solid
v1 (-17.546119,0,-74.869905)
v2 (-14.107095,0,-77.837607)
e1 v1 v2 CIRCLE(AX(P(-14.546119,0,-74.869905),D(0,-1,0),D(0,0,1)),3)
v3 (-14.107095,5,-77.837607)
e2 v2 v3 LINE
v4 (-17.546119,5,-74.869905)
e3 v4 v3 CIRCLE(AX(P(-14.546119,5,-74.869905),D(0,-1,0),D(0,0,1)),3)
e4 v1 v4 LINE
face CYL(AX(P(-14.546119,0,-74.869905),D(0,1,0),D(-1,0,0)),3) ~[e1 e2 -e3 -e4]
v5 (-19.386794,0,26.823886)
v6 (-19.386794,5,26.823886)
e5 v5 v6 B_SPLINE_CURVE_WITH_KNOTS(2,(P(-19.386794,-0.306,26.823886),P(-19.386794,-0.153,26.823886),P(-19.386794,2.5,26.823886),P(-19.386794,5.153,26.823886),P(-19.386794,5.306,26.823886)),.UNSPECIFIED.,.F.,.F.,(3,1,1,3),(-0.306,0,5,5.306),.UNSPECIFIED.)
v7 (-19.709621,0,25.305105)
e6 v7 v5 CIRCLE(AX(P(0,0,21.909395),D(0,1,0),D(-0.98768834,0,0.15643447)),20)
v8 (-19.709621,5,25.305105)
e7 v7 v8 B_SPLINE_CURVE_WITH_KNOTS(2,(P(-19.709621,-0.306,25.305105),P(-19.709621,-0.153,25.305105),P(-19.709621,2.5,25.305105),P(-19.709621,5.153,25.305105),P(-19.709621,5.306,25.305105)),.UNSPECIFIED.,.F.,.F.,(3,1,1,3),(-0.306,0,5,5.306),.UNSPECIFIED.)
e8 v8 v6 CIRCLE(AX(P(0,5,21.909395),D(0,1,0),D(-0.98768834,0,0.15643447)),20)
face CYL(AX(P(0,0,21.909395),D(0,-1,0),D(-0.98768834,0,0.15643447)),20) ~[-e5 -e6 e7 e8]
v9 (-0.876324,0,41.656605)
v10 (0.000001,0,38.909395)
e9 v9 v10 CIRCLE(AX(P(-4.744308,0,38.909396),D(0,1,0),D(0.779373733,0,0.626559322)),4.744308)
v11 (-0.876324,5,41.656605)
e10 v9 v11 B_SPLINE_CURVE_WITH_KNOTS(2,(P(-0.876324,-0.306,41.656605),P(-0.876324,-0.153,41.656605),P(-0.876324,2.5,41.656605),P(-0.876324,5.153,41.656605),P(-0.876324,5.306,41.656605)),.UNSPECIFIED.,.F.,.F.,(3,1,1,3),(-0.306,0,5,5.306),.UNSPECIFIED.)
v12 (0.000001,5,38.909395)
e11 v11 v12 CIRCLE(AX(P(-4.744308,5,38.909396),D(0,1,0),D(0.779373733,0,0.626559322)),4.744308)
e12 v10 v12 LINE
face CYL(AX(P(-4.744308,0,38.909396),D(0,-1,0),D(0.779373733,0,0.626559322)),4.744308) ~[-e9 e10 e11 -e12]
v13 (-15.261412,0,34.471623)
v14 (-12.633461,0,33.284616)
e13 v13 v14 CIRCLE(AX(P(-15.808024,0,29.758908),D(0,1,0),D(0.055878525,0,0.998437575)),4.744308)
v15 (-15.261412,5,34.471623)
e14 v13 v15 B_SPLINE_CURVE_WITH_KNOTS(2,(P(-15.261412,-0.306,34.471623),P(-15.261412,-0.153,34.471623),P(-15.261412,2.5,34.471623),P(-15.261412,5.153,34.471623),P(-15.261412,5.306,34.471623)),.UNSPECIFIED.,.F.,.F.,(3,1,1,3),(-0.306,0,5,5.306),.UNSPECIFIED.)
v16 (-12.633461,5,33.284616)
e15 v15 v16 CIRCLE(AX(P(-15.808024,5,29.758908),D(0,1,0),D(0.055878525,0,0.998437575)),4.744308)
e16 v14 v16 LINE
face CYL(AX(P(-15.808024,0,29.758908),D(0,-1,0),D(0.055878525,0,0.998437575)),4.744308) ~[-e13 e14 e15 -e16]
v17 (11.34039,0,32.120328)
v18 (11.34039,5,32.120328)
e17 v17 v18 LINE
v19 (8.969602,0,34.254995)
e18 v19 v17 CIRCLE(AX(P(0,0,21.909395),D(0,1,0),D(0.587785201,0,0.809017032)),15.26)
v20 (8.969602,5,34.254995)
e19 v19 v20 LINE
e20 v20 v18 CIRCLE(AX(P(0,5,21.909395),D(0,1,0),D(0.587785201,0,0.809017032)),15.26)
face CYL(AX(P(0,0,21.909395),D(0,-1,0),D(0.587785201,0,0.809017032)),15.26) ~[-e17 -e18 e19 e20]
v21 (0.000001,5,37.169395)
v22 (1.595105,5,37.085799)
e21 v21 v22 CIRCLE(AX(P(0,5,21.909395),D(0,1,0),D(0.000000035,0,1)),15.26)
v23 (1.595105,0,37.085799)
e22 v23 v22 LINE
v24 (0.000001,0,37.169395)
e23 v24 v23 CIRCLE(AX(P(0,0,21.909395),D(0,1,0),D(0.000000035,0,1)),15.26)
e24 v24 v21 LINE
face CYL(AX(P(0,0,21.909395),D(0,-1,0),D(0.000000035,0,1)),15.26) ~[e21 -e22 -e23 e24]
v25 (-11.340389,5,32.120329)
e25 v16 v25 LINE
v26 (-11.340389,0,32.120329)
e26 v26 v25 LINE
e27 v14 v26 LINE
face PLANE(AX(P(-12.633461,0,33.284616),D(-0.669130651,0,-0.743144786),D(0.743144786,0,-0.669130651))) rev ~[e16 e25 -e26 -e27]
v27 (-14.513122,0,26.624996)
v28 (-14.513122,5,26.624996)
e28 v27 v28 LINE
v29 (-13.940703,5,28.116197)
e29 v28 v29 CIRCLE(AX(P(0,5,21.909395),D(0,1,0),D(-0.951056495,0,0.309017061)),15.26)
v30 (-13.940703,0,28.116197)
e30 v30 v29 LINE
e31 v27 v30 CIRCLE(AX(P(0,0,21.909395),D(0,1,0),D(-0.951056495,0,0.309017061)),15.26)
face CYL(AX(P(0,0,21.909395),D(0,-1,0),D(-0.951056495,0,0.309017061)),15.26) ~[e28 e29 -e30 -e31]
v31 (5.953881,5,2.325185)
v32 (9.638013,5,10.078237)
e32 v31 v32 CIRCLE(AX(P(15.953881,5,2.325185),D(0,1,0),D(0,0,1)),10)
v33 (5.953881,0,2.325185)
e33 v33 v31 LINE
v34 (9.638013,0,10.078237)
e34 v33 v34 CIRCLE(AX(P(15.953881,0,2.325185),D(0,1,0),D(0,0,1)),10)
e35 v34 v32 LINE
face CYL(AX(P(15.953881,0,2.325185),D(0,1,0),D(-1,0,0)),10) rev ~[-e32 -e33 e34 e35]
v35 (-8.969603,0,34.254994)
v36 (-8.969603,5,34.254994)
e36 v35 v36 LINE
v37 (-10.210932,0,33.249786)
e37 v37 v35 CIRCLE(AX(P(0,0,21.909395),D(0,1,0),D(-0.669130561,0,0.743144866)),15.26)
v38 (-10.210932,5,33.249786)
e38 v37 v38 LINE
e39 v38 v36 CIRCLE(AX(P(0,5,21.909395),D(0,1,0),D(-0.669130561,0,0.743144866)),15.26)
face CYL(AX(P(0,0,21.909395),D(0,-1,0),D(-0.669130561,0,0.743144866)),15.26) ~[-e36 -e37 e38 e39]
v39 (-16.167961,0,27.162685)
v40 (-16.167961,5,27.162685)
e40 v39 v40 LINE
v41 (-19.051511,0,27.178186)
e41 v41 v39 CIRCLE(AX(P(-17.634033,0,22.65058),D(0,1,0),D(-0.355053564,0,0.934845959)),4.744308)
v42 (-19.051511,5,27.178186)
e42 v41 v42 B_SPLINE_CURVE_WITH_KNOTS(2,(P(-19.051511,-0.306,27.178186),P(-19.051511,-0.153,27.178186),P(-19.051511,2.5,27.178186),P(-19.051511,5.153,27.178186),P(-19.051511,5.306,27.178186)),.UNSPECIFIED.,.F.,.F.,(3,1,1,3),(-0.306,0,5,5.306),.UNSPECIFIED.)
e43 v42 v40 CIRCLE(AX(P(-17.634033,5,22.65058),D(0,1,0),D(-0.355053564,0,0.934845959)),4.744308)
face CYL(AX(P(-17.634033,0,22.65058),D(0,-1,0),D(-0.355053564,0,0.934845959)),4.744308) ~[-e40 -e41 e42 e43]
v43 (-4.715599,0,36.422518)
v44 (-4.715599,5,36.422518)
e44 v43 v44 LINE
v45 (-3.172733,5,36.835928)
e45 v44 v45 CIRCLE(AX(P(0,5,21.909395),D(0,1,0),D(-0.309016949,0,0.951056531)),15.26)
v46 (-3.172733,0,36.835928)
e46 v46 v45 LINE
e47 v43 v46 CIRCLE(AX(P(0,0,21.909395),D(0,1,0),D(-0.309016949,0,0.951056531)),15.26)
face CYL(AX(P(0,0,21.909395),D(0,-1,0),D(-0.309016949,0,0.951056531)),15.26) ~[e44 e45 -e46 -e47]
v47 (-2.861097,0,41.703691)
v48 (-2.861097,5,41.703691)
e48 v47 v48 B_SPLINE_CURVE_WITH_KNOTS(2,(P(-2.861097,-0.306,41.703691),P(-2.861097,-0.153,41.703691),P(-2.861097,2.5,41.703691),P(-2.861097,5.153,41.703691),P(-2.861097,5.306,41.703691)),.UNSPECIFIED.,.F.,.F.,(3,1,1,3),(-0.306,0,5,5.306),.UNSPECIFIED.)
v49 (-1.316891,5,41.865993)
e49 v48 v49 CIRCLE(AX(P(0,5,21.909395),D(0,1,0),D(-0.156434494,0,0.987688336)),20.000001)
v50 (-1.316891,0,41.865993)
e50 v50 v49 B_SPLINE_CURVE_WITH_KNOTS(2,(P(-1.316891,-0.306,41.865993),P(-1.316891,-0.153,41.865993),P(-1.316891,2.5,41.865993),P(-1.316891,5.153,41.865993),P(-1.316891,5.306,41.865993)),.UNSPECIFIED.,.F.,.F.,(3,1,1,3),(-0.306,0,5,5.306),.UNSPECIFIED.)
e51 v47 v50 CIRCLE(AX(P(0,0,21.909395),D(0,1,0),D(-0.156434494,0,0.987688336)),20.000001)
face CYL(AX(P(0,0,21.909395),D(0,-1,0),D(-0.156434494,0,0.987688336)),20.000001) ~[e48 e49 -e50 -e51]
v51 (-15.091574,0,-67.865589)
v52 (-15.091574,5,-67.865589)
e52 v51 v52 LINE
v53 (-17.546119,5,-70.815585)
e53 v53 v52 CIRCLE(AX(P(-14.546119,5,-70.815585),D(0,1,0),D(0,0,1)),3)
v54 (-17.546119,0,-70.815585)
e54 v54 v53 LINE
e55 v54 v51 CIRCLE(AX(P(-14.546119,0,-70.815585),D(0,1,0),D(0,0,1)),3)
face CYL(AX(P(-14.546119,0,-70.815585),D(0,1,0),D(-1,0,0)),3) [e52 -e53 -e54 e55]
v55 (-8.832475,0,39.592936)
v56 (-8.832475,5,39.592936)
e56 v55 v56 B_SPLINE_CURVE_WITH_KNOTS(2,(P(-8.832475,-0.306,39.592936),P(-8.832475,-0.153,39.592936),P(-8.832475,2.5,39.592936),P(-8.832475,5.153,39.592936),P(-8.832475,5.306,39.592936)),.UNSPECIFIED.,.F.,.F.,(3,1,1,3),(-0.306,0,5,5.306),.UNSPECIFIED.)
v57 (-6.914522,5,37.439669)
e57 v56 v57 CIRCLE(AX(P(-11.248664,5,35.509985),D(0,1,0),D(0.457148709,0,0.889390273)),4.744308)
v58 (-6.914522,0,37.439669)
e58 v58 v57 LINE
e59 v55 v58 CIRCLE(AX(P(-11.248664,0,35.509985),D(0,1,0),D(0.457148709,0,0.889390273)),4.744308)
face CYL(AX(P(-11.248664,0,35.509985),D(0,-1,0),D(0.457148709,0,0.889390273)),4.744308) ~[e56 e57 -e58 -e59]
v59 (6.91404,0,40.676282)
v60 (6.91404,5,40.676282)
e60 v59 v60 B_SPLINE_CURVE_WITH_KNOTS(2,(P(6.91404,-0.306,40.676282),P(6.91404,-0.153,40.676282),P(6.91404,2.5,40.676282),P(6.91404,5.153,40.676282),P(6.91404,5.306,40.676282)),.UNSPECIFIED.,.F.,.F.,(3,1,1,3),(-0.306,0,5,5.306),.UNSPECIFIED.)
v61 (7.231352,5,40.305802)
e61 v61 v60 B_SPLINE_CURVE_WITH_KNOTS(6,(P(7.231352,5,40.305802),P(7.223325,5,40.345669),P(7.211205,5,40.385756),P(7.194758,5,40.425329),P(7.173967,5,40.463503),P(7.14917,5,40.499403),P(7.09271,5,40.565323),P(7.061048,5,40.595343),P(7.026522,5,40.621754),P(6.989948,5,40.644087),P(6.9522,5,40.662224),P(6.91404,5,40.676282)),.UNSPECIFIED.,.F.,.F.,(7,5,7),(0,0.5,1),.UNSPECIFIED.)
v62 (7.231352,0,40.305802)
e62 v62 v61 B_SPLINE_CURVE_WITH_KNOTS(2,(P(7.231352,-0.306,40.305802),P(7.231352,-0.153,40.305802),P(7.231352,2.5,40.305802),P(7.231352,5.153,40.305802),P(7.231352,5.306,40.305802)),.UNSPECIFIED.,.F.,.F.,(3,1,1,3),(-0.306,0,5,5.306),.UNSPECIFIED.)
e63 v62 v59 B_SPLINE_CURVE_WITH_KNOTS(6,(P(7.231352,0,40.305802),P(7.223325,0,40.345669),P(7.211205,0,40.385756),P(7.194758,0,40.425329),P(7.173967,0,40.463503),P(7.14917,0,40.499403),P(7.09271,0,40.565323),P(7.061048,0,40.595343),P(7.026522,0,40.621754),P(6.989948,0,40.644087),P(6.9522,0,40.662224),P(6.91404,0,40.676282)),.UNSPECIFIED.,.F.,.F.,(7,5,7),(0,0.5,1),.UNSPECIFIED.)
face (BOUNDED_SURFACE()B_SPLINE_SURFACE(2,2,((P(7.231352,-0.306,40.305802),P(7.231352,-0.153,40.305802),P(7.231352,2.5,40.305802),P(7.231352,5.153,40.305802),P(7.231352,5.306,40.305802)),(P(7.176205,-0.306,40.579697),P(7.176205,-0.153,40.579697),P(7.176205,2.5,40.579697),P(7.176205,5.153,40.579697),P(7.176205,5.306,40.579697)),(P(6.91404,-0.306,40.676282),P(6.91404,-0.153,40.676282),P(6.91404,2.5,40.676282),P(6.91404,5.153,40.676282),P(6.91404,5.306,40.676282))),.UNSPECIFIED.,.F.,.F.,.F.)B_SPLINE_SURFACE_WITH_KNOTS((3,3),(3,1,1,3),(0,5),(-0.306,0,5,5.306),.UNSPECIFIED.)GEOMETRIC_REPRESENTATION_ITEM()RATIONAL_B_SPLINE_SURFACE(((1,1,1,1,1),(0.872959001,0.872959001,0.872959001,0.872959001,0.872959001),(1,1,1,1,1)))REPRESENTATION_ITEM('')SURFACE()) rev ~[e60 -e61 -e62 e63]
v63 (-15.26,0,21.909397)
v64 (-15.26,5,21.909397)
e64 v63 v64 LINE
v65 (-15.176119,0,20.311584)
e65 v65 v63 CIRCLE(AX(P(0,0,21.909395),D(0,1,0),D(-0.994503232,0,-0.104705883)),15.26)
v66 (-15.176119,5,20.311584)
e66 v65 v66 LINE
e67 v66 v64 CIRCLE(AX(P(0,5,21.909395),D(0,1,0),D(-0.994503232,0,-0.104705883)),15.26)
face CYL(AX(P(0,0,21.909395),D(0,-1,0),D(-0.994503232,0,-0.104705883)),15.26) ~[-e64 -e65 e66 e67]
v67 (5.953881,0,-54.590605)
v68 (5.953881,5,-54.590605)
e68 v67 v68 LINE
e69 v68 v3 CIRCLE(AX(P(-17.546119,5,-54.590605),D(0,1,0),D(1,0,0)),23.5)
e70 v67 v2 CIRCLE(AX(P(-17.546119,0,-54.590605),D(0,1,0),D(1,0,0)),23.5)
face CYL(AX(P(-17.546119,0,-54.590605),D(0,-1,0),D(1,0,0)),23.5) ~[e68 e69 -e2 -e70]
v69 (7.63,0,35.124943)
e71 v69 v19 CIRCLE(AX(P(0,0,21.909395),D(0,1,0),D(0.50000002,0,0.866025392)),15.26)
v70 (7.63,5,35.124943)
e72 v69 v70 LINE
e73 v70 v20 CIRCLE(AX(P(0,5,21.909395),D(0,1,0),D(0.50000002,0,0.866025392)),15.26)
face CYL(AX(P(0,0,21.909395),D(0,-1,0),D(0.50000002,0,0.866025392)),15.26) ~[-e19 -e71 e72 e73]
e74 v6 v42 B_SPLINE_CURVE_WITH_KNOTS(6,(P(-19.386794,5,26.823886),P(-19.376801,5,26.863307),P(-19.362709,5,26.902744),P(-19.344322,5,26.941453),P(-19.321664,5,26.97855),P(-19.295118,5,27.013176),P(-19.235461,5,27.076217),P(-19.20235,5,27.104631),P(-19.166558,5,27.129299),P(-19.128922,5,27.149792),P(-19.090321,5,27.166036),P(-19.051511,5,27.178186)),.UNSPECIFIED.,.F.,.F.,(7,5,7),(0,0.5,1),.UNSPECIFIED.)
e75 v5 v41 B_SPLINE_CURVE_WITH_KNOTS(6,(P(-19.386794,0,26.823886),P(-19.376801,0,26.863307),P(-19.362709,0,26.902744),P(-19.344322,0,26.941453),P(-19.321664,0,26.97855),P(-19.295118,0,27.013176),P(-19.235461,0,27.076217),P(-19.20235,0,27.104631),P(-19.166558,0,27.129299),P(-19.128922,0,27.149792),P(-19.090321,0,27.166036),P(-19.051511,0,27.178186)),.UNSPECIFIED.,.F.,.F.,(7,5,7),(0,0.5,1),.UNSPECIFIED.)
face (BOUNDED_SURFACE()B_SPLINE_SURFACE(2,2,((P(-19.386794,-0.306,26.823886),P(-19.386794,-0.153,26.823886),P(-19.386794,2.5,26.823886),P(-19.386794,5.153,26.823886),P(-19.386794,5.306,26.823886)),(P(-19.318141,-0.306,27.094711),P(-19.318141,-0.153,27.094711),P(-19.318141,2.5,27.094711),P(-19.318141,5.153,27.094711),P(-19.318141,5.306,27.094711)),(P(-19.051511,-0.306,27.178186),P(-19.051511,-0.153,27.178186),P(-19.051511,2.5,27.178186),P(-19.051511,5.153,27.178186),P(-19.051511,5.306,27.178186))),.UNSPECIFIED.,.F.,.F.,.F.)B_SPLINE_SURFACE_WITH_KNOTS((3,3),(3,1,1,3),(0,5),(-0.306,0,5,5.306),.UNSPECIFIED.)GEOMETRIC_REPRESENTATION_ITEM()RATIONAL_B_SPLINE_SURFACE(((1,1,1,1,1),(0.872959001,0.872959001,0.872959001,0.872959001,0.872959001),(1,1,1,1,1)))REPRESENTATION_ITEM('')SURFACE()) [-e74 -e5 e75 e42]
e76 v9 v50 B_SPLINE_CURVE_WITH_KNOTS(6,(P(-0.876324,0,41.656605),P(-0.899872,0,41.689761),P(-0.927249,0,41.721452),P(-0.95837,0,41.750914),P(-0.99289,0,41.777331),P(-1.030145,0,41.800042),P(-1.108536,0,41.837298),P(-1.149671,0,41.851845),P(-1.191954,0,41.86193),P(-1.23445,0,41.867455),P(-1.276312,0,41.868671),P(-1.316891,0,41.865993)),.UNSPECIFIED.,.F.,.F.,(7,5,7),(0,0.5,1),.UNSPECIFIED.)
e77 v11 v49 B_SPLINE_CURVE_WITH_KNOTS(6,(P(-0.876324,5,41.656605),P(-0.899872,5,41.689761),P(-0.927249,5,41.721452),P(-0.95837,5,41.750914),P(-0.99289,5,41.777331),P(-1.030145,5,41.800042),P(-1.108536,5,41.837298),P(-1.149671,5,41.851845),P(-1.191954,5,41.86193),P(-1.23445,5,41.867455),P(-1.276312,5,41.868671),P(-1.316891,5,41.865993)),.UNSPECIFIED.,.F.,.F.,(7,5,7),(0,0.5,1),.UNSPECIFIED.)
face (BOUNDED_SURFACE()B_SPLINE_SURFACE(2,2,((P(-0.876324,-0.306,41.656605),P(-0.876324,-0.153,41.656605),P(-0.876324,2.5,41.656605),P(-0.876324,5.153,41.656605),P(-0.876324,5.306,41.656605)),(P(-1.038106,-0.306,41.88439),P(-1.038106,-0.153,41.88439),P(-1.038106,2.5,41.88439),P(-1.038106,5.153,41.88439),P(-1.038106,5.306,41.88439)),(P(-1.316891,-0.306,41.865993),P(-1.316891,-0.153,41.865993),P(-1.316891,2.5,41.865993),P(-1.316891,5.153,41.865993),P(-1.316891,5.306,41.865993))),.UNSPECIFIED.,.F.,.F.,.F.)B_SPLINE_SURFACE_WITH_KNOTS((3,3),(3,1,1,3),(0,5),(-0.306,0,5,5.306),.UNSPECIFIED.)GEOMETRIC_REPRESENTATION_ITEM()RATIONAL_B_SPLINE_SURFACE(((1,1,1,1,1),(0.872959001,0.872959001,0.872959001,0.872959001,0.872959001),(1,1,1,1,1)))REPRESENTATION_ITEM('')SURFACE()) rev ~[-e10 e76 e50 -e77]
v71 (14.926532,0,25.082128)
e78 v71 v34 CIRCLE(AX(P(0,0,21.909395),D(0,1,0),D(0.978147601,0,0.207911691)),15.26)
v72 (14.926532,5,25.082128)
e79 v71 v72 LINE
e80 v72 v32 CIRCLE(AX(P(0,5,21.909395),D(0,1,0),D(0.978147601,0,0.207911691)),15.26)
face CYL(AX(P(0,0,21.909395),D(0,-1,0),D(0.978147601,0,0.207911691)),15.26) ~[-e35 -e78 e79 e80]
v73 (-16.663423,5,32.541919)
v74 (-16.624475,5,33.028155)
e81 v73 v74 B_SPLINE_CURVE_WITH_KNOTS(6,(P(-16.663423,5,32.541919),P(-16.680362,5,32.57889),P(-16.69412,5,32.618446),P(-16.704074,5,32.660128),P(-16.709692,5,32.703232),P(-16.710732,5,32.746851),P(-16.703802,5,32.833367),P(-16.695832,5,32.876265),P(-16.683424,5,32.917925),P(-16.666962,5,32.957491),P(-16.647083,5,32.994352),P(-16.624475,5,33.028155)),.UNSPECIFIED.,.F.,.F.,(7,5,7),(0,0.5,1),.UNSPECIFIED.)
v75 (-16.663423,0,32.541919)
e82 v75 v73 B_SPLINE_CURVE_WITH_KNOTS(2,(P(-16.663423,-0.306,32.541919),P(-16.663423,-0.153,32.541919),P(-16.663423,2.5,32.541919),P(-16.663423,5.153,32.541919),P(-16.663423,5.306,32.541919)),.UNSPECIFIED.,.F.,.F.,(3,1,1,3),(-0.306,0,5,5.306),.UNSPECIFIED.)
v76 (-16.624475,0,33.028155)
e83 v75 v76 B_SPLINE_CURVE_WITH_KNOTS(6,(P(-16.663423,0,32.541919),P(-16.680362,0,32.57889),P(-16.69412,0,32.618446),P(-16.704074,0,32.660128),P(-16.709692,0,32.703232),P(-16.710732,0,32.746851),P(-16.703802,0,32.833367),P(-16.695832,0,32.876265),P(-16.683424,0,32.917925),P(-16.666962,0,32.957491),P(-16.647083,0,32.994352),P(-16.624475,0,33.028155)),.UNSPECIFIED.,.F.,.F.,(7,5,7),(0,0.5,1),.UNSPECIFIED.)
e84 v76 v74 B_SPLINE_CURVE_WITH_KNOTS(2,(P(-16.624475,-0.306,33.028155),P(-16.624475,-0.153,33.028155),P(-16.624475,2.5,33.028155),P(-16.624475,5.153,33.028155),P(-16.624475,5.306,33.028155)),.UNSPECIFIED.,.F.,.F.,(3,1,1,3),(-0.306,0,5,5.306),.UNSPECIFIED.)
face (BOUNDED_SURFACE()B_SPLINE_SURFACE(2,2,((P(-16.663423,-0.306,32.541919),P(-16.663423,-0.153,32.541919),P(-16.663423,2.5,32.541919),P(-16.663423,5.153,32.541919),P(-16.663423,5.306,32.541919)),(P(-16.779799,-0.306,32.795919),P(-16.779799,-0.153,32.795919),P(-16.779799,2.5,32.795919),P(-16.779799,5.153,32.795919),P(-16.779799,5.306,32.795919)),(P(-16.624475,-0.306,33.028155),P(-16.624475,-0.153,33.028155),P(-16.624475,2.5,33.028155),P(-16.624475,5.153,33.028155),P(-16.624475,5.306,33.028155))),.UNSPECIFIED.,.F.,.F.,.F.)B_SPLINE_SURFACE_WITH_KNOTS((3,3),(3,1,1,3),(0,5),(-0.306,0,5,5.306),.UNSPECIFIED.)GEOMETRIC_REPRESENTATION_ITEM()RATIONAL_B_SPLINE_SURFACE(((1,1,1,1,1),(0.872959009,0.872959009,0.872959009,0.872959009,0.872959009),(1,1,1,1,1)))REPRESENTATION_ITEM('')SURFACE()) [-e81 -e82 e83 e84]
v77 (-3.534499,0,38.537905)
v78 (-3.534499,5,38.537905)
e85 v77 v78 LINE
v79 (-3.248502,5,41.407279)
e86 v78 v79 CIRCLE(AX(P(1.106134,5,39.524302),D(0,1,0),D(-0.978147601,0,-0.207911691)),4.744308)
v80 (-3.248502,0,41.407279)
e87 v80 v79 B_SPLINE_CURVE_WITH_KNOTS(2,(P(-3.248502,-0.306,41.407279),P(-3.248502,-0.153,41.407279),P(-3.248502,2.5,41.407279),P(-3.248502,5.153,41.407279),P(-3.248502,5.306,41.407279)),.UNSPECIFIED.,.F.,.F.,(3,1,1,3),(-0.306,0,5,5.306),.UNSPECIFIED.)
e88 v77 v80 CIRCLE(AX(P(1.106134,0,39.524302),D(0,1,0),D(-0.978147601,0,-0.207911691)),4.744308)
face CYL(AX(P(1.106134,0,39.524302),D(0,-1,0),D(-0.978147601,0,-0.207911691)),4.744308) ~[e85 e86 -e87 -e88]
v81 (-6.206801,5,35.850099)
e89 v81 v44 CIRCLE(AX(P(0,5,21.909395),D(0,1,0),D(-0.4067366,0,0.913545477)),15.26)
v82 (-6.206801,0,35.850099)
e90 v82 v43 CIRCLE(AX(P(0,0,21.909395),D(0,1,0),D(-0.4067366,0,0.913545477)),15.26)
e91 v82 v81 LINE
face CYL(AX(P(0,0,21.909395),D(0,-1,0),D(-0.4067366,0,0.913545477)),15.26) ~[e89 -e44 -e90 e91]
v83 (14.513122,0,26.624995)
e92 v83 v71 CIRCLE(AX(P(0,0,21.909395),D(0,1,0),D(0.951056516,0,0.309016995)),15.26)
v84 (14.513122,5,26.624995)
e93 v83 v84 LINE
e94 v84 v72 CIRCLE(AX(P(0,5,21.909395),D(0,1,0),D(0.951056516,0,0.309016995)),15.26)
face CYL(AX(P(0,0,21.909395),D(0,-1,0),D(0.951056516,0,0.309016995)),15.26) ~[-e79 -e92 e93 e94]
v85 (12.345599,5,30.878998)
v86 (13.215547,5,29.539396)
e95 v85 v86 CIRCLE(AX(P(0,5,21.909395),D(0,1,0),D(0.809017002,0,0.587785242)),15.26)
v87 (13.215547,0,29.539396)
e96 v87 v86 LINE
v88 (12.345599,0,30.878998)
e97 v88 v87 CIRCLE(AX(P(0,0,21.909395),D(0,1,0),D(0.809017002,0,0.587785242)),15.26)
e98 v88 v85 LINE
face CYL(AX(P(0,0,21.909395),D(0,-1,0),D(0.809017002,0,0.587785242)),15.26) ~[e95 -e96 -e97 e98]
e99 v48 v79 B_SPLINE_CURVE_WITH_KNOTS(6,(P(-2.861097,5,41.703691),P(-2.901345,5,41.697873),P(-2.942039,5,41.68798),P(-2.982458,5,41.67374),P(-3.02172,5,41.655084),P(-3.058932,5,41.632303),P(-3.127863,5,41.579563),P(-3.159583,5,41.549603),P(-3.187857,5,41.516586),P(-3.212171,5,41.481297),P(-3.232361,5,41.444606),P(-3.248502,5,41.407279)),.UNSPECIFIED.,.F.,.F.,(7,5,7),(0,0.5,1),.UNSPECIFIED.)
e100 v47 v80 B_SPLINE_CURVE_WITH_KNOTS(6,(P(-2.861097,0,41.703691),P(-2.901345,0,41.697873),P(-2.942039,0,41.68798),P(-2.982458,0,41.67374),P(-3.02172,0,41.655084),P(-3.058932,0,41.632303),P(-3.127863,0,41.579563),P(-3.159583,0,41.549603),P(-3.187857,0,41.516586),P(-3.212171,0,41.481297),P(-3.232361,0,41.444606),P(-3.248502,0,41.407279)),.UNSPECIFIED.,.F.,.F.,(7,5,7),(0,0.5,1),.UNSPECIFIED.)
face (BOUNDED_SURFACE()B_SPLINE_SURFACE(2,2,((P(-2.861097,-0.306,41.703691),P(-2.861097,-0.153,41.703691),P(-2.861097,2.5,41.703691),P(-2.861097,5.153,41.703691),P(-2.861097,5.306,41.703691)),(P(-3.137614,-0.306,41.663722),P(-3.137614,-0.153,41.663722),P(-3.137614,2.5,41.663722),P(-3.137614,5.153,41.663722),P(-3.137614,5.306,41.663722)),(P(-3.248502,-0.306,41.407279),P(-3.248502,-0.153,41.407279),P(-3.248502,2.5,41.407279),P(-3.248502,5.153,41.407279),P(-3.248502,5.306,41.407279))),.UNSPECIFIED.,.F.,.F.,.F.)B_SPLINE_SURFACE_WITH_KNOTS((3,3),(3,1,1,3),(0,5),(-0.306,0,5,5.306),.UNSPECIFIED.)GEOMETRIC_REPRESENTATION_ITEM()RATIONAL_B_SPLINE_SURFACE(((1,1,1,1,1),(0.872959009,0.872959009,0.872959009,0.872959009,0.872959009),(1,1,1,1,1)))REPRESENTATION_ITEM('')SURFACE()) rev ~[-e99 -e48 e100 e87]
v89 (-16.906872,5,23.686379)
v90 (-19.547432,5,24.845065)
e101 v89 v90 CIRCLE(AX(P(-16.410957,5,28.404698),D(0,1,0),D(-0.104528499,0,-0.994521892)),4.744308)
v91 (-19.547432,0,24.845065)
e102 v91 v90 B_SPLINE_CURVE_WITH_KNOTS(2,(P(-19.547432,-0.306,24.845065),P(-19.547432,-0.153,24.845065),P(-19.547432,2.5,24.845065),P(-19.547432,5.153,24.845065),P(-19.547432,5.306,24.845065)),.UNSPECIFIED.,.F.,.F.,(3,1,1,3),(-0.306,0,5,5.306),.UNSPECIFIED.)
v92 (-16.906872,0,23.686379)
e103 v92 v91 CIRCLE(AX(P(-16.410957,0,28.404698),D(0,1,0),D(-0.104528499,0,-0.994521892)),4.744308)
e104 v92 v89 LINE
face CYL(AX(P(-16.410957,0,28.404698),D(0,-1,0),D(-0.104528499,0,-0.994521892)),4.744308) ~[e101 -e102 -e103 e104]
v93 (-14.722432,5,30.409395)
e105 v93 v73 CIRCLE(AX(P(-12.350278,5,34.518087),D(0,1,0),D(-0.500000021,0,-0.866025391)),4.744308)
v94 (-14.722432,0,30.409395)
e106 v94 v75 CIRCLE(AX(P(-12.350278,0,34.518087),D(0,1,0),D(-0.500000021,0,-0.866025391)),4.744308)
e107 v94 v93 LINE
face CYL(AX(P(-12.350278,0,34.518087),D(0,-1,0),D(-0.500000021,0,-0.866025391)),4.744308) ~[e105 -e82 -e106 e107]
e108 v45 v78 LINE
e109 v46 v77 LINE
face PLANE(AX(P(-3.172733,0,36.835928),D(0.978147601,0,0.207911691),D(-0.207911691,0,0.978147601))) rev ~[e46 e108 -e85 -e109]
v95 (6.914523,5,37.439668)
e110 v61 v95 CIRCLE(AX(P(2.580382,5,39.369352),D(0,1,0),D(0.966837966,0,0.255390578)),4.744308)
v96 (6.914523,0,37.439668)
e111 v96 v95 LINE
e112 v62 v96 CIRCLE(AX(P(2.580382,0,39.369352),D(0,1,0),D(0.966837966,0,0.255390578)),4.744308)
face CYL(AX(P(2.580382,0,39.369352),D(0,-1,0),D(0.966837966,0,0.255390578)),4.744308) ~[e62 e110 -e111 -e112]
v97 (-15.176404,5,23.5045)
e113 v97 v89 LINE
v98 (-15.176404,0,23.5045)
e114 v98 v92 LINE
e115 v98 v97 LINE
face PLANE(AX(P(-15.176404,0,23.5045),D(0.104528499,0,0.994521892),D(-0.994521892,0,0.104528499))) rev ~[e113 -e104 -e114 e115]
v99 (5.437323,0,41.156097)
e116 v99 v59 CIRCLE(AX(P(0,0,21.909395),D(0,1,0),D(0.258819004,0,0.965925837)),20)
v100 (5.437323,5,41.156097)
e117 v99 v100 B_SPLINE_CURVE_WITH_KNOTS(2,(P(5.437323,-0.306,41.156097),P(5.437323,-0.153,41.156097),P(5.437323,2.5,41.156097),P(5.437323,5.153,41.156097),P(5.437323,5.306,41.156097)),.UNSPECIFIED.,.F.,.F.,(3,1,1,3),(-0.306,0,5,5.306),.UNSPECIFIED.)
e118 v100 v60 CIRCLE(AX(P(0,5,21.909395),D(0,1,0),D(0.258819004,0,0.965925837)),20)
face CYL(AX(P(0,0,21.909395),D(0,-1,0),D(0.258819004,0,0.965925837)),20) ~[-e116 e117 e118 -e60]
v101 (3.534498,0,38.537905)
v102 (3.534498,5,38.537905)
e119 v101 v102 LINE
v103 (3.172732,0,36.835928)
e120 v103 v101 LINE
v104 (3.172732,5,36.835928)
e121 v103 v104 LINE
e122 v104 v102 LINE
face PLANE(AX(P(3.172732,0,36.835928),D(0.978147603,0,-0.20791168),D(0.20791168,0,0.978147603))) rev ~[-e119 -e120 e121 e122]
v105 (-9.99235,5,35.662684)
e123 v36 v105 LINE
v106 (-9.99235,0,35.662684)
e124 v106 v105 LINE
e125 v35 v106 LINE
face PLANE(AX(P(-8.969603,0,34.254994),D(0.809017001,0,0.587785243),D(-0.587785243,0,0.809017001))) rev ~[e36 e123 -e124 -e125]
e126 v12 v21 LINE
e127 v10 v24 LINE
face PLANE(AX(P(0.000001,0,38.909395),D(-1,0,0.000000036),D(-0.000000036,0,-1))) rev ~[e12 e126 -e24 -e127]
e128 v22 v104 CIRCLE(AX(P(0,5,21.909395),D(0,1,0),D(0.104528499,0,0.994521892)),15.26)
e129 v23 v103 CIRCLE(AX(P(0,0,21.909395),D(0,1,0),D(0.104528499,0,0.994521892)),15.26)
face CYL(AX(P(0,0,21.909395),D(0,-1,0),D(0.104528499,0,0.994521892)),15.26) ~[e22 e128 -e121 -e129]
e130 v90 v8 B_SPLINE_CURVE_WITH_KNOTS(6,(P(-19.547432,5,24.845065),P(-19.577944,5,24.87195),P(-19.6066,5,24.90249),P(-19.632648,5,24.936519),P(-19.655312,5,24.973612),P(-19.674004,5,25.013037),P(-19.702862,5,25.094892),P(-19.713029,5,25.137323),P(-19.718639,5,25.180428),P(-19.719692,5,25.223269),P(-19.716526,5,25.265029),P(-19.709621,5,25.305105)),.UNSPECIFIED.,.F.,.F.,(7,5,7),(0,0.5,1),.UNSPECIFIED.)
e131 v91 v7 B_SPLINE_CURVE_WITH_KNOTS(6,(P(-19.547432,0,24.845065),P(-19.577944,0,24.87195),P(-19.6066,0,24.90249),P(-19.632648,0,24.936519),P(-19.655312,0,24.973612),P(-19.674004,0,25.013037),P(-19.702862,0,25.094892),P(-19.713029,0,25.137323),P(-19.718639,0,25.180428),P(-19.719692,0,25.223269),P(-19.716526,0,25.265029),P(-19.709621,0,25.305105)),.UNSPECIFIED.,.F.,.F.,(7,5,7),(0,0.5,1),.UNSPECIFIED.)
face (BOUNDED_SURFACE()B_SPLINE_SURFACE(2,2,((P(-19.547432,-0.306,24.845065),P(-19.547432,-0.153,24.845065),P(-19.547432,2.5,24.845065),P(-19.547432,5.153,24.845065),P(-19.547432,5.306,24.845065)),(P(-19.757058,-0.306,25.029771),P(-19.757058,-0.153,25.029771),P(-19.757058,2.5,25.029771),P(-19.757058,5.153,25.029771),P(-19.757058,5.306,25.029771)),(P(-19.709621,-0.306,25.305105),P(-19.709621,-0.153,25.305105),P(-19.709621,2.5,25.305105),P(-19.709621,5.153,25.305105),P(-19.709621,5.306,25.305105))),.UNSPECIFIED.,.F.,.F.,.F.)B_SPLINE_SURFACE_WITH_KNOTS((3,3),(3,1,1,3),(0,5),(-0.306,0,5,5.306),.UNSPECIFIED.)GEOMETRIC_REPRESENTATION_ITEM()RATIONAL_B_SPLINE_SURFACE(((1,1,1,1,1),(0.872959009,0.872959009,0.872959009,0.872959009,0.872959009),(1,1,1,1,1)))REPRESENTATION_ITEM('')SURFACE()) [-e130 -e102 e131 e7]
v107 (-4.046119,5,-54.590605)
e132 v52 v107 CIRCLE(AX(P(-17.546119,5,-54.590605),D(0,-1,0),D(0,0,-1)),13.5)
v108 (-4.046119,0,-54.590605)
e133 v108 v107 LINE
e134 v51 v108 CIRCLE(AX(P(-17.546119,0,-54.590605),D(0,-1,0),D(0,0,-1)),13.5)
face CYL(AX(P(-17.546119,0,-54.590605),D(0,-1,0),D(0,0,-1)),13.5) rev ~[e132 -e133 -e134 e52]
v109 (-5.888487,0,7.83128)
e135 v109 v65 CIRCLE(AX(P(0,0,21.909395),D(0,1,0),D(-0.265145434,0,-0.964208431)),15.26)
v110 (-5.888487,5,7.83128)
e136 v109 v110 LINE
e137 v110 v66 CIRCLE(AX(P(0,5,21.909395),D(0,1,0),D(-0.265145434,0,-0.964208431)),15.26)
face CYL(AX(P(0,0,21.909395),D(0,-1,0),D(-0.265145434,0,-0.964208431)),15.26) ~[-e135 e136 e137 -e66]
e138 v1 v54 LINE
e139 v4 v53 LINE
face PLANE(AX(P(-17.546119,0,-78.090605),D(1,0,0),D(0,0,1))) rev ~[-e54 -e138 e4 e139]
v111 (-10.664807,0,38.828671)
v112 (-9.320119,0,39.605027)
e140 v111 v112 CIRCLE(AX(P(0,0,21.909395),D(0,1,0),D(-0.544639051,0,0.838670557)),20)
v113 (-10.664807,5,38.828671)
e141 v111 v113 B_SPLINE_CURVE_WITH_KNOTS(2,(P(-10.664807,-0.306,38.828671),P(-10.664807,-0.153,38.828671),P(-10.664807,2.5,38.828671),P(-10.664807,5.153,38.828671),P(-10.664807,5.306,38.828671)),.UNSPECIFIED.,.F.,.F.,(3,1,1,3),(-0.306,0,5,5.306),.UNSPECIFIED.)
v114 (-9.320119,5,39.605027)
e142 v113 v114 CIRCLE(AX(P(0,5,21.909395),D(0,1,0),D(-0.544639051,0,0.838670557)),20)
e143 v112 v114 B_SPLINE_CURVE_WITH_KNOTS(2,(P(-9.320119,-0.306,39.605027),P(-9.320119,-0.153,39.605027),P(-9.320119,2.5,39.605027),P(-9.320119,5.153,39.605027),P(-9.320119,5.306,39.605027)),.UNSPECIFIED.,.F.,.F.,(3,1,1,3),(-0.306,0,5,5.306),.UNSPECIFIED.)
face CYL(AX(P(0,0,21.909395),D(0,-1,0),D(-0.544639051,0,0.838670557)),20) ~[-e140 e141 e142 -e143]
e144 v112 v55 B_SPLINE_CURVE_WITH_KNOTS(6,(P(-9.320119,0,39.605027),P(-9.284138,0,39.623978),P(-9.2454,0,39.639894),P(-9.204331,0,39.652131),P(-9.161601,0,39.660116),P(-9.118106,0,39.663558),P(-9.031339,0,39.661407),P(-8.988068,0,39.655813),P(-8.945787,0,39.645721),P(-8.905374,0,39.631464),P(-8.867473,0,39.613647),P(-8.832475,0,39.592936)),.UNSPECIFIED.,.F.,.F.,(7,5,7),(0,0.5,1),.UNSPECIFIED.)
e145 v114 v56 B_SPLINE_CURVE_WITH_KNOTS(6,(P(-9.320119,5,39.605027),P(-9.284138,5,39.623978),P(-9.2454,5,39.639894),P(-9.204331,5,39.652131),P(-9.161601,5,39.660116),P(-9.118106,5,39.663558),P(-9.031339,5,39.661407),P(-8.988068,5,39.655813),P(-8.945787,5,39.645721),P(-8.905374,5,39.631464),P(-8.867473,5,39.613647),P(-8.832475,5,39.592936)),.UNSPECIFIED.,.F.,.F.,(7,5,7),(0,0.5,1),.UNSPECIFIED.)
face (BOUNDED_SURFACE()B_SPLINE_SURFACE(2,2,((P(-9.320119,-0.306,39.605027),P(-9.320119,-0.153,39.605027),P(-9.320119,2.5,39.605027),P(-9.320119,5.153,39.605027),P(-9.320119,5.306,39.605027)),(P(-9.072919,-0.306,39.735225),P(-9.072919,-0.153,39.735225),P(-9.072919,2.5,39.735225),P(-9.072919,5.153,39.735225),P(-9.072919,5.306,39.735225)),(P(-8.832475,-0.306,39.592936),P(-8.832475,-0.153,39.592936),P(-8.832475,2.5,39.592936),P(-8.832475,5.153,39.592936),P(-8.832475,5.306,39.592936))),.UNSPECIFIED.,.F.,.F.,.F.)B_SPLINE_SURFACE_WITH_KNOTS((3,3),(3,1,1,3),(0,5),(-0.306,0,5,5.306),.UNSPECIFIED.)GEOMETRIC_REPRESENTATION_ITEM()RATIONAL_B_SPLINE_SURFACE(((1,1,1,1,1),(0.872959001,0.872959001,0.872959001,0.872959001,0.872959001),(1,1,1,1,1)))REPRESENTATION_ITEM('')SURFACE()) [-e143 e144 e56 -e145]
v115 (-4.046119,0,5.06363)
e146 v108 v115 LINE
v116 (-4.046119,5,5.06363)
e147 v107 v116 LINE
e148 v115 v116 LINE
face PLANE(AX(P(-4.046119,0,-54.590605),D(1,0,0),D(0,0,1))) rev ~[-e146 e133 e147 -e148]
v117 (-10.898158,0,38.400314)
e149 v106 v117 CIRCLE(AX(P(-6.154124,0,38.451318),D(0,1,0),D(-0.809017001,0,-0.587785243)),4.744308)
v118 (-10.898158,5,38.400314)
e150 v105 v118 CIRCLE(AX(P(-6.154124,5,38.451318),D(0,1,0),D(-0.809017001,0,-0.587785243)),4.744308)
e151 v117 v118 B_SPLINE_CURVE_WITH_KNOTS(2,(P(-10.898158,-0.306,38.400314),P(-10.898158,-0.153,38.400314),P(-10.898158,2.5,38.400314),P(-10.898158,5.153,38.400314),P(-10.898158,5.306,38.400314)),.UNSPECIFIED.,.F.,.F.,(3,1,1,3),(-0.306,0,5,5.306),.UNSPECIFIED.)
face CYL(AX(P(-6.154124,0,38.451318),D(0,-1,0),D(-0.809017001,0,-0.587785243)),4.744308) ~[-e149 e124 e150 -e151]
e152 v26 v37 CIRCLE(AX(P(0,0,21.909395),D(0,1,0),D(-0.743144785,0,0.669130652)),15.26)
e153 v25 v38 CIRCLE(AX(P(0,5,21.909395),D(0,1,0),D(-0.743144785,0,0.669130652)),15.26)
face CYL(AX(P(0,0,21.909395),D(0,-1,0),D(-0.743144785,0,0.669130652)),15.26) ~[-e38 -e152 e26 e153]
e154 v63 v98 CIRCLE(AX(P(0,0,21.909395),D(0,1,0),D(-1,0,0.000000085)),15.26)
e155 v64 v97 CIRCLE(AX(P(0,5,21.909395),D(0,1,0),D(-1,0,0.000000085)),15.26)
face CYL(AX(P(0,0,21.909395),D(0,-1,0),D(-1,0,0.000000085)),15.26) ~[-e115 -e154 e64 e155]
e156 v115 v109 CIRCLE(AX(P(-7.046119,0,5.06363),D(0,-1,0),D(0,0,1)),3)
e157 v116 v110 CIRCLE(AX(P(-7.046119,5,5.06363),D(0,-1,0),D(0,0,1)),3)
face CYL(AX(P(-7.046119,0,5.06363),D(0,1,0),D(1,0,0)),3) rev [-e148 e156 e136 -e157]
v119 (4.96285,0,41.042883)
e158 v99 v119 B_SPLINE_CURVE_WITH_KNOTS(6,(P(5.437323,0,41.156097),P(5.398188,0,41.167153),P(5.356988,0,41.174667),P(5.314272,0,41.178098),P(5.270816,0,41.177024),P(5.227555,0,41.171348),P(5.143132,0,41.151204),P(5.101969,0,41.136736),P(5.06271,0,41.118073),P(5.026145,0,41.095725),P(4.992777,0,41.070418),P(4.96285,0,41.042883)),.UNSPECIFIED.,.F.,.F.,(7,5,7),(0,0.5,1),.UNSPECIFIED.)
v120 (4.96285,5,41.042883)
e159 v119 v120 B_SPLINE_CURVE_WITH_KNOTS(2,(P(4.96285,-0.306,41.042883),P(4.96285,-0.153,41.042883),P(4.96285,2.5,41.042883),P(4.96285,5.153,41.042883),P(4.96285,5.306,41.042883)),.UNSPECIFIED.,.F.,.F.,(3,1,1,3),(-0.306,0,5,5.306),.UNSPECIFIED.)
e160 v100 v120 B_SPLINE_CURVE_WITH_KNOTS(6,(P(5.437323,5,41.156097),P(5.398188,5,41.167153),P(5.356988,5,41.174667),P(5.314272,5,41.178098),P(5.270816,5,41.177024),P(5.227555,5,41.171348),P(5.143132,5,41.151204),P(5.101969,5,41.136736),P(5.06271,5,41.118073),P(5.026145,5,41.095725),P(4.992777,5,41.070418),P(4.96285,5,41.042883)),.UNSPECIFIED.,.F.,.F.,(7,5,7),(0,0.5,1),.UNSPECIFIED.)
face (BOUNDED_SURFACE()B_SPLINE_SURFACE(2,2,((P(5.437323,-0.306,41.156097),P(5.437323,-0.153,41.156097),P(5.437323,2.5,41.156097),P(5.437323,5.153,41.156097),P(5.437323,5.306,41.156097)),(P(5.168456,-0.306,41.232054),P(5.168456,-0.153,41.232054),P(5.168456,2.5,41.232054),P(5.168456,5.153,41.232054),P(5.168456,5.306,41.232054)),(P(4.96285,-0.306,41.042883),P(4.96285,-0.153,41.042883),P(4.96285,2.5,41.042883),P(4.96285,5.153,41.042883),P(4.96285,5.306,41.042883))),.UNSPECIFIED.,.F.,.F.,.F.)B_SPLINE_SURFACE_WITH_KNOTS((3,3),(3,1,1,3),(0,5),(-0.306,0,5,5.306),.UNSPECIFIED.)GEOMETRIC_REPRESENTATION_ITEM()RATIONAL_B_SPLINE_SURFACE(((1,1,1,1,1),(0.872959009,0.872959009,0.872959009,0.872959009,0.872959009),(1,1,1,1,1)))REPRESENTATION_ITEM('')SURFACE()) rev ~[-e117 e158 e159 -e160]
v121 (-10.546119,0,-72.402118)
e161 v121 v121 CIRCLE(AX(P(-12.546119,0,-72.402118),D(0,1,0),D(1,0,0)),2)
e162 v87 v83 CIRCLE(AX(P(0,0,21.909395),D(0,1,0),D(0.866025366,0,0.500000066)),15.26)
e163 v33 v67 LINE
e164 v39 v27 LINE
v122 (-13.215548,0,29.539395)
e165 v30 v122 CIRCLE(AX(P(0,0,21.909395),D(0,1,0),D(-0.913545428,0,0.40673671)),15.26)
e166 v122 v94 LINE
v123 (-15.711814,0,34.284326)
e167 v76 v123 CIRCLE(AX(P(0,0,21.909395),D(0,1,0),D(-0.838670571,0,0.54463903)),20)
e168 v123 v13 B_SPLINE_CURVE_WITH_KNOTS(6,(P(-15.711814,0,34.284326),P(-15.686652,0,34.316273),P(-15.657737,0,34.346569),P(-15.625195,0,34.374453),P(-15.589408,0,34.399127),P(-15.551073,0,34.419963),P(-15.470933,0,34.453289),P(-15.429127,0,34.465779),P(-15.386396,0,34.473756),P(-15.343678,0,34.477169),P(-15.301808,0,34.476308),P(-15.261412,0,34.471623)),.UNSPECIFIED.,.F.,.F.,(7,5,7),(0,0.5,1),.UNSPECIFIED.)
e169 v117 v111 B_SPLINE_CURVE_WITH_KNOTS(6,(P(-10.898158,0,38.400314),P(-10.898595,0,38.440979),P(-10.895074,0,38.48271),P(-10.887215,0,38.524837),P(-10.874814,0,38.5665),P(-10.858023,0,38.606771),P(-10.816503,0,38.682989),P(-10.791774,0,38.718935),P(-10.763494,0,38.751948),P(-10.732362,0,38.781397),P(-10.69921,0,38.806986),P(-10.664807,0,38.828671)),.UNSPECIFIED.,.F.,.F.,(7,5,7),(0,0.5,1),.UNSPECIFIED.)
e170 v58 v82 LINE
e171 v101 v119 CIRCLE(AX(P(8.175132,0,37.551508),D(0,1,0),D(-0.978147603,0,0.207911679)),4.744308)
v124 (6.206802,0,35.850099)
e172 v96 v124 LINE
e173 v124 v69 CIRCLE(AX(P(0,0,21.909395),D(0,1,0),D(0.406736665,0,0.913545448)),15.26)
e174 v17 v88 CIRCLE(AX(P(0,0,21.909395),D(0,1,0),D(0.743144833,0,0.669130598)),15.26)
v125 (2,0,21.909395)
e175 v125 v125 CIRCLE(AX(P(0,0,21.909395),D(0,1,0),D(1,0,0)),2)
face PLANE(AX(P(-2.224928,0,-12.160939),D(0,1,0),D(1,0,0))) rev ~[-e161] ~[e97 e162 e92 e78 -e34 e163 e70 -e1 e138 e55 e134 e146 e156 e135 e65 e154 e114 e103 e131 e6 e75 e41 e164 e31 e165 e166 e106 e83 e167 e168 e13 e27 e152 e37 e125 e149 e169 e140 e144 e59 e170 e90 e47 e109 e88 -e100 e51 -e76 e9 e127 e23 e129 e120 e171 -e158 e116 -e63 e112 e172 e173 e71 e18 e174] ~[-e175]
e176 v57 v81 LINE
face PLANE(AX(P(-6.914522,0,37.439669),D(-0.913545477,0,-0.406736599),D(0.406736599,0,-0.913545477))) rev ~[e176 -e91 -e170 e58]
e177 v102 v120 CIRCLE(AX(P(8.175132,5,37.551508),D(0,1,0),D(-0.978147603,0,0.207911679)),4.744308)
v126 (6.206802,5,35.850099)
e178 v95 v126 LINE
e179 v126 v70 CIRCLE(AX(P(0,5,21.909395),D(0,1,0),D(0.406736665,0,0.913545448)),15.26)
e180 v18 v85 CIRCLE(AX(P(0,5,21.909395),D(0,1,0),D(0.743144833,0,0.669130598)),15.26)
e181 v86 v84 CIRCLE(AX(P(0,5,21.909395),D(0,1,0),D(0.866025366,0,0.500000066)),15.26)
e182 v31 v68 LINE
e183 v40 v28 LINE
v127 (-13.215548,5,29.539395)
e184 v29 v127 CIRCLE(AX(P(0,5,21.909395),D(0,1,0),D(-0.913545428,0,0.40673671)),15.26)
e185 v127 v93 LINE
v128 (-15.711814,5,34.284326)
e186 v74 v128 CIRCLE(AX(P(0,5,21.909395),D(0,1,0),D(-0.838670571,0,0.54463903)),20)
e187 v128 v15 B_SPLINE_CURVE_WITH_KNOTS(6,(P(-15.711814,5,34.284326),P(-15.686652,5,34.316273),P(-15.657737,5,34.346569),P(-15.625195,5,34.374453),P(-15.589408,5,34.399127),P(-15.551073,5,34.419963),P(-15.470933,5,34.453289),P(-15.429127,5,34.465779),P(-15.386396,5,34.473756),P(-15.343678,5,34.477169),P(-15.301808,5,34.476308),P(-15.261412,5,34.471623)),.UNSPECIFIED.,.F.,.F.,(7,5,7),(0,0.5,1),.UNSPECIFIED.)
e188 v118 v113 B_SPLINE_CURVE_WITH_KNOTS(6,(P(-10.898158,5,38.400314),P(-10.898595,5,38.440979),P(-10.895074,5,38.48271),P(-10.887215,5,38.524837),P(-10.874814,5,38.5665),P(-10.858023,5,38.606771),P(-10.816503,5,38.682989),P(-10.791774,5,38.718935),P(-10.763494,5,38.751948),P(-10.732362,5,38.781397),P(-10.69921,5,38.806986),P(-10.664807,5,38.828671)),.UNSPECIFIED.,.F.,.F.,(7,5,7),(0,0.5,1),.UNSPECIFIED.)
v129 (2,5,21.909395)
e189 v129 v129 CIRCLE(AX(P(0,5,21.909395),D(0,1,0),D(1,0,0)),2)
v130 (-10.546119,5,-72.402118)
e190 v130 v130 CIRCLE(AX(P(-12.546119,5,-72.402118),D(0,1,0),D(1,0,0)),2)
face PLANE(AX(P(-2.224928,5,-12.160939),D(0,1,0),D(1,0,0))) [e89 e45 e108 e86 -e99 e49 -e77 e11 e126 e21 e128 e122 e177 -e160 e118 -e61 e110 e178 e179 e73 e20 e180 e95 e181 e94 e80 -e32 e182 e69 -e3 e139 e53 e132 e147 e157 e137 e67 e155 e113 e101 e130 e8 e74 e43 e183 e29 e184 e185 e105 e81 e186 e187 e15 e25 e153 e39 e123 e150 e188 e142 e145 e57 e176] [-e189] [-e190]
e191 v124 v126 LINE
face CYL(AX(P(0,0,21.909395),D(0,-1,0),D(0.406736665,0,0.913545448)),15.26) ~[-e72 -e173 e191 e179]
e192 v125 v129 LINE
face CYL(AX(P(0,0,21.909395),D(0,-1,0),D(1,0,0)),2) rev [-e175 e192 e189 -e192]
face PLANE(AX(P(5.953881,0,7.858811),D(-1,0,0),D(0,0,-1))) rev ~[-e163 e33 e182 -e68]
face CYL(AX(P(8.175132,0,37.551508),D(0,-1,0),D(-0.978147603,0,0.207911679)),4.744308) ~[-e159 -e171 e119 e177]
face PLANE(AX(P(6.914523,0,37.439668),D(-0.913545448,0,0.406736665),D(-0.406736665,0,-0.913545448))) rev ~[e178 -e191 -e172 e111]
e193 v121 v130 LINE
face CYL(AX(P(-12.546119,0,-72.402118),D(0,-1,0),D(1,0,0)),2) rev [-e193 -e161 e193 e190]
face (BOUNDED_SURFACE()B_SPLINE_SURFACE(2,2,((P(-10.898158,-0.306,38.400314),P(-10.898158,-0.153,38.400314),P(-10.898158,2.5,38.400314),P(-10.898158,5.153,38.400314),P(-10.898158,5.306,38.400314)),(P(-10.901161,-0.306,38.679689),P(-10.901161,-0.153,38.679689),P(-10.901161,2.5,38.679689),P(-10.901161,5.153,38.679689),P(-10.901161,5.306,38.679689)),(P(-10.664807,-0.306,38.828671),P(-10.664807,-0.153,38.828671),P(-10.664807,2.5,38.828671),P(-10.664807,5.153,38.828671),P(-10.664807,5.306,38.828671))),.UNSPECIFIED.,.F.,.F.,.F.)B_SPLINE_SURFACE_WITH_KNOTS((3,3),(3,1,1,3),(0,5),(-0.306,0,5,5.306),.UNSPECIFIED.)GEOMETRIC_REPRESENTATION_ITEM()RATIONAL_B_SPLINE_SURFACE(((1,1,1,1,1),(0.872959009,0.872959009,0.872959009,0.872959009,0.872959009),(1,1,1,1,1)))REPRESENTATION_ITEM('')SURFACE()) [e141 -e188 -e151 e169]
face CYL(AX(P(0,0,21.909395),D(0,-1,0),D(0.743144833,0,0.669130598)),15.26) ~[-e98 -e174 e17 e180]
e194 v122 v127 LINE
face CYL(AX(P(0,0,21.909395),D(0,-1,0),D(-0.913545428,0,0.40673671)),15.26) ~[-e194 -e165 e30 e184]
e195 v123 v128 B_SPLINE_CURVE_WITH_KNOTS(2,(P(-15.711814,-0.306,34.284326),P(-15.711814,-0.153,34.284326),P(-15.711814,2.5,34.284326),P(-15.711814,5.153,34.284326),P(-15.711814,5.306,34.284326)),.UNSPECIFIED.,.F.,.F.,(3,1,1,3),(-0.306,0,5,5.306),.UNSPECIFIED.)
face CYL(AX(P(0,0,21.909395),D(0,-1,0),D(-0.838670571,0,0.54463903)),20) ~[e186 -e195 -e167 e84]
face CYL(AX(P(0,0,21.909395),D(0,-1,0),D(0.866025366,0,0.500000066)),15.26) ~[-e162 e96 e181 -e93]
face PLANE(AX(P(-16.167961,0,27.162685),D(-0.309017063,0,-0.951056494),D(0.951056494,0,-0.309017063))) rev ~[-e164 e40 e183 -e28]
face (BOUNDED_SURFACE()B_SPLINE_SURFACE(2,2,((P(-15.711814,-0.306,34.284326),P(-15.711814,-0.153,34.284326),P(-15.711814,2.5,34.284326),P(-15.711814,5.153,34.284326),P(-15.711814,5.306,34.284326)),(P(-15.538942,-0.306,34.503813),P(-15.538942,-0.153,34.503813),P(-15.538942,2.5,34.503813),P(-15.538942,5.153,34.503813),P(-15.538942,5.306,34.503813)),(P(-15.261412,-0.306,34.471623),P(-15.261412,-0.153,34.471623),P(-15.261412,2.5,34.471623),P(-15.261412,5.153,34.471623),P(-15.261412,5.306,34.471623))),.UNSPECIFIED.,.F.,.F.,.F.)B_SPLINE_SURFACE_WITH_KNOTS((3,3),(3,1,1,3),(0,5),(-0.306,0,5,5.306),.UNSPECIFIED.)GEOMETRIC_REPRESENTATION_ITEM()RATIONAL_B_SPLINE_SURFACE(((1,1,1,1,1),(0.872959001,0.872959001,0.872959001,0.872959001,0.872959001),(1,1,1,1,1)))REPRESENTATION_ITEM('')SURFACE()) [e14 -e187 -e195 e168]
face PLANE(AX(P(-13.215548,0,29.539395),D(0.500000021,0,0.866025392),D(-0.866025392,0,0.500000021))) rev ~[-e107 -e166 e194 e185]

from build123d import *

# Parameters (mm, degrees)
SKETCH1_R           = 2
BOSS_EXTRUDE3_DEPTH = 5
FILLET9_R           = 10
FILLET10_R          = 3
FILLET11_R          = 3
FILLET12_R          = 3
FILLET13_R          = 0.5


with BuildPart() as part:
    # Sketch1 → Boss-Extrude3 (new body)
    with BuildSketch(Plane(origin=(0, 0, 0), x_dir=(1, 0, 0), z_dir=(0, 1, 0))):
        with BuildLine():
            Line((-4.046119318, 54.590604732), (-4.046119318, -7.195574606))
            ThreePointArc((-4.046119318, -7.195574606), (-11.635335702, -12.035866866), (-15.176119318, -20.311583503))
            ThreePointArc((-15.176119318, -20.311583503), (-15.239015435, -21.109389908), (-15.26, -21.909396551))
            ThreePointArc((-15.26, -21.909396551), (-15.239086668, -22.708042569), (-15.17640413, -23.504499555))
            Line((-15.17640413, -23.504499555), (-16.906872391, -23.686379161))
            ThreePointArc((-16.906872391, -23.686379161), (-18.44583537, -24.118938522), (-19.753766933, -25.038084689))
            ThreePointArc((-19.753766933, -25.038084689), (-19.56295199, -26.067629867), (-19.318516287, -27.085777598))
            ThreePointArc((-19.318516287, -27.085777598), (-17.749810888, -27.393475541), (-16.167960532, -27.162685373))
            Line((-16.167960532, -27.162685373), (-14.513122101, -26.624995641))
            ThreePointArc((-14.513122101, -26.624995641), (-14.246436916, -27.378091201), (-13.940703236, -28.116197446))
            ThreePointArc((-13.940703236, -28.116197446), (-13.596759365, -28.837290674), (-13.215547785, -29.539395055))
            Line((-13.215547785, -29.539395055), (-14.722432114, -30.409395176))
            ThreePointArc((-14.722432114, -30.409395176), (-15.952407023, -31.430510437), (-16.773411552, -32.802175926))
            ThreePointArc((-16.773411552, -32.802175926), (-16.180339688, -33.665100824), (-15.542918581, -34.49580411))
            ThreePointArc((-15.542918581, -34.49580411), (-13.984682857, -34.138850219), (-12.633461458, -33.284616422))
            Line((-12.633461458, -33.284616422), (-11.340389428, -32.120328997))
            ThreePointArc((-11.340389428, -32.120328997), (-10.790448835, -32.699845394), (-10.210932372, -33.249785918))
            ThreePointArc((-10.210932372, -33.249785918), (-9.603428978, -33.768642793), (-8.969603297, -34.25499435))
            Line((-8.969603297, -34.25499435), (-9.99234972, -35.66268407))
            ThreePointArc((-9.99234972, -35.66268407), (-10.700662735, -37.095795135), (-10.892781095, -38.682806536))
            ThreePointArc((-10.892781095, -38.682806536), (-9.999999818, -39.229903609), (-9.079809202, -39.729526311))
            ThreePointArc((-9.079809202, -39.729526311), (-7.80147625, -38.769641154), (-6.914522249, -37.439668504))
            Line((-6.914522249, -37.439668504), (-6.20680051, -35.850099247))
            ThreePointArc((-6.20680051, -35.850099247), (-5.468694229, -36.155832838), (-4.715598637, -36.422517933))
            ThreePointArc((-4.715598637, -36.422517933), (-3.94957857, -36.649423393), (-3.172733001, -36.835927528))
            Line((-3.172733001, -36.835927528), (-3.534499379, -38.53790452))
            ThreePointArc((-3.534499379, -38.53790452), (-3.598676752, -40.135213481), (-3.128689936, -41.66316212))
            ThreePointArc((-3.128689936, -41.66316212), (-2.09056923, -41.799833318), (-1.046718412, -41.881986139))
            ThreePointArc((-1.046718412, -41.881986139), (-0.269323601, -40.48514257), (6.05e-07, -38.909395406))
            Line((6.05e-07, -38.909395406), (5.43e-07, -37.169395268))
            ThreePointArc((5.43e-07, -37.169395268), (0.798647238, -37.14848194), (1.595104896, -37.085799334))
            ThreePointArc((1.595104896, -37.085799334), (2.387189815, -36.981519365), (3.172731623, -36.835927821))
            Line((3.172731623, -36.835927821), (3.534497981, -38.537904817))
            ThreePointArc((3.534497981, -38.537904817), (4.1255531, -40.023222459), (5.176380106, -41.22791215))
            ThreePointArc((5.176380106, -41.22791215), (6.180339749, -40.930525784), (7.167359489, -40.581003755))
            ThreePointArc((7.167359489, -40.581003755), (7.309397542, -38.988728703), (6.914523355, -37.439668011))
            Line((6.914523355, -37.439668011), (6.206801502, -35.850098805))
            ThreePointArc((6.206801502, -35.850098805), (6.927895349, -35.506154662), (7.630000317, -35.124942746))
            ThreePointArc((7.630000317, -35.124942746), (8.311191417, -34.707508302), (8.969602158, -34.254995178))
            ThreePointArc((8.969602158, -34.254995178), (10.210932755, -33.249785573), (11.340390155, -32.12032819))
            ThreePointArc((11.340390155, -32.12032819), (11.859247485, -31.512824296), (12.345599442, -30.87899807))
            ThreePointArc((12.345599442, -30.87899807), (12.7981126, -30.220587353), (13.215547081, -29.539396275))
            ThreePointArc((13.215547081, -29.539396275), (13.940703446, -28.116196975), (14.513122436, -26.624994609))
            ThreePointArc((14.513122436, -26.624994609), (14.740028108, -25.8589739), (14.926532387, -25.08212767))
            ThreePointArc((14.926532387, -25.08212767), (13.533608818, -14.858931995), (5.953880682, -7.858811478))
            Line((5.953880682, -7.858811478), (5.953880682, 54.590604732))
            ThreePointArc((5.953880682, 54.590604732), (-0.92910996, 71.20761409), (-17.546119318, 78.090604732))
            Line((-17.546119318, 78.090604732), (-17.546119318, 68.090604732))
            ThreePointArc((-17.546119318, 68.090604732), (-8.000177772, 64.136546278), (-4.046119318, 54.590604732))
        make_face()
        with Locations((0, -21.909395268)):
            Circle(SKETCH1_R, mode=Mode.SUBTRACT)
        with Locations((-12.546119318, 72.402117863)):
            Circle(SKETCH1_R, mode=Mode.SUBTRACT)
    extrude(amount=BOSS_EXTRUDE3_DEPTH)

    # Fillet9
    fillet9_edges = [part.edges().sort_by_distance(p)[0] for p in [
        (5.953880682, 2.5, 7.858811478),
    ]]
    fillet(fillet9_edges, radius=FILLET9_R)

    # Fillet10
    fillet10_edges = [part.edges().sort_by_distance(p)[0] for p in [
        (-4.046119318, 2.5, 7.195574606),
    ]]
    fillet(fillet10_edges, radius=FILLET10_R)

    # Fillet11
    fillet11_edges = [part.edges().sort_by_distance(p)[0] for p in [
        (-17.546119318, 2.5, -78.090604732),
    ]]
    fillet(fillet11_edges, radius=FILLET11_R)

    # Fillet12
    fillet12_edges = [part.edges().sort_by_distance(p)[0] for p in [
        (-17.546119318, 2.5, -68.090604732),
    ]]
    fillet(fillet12_edges, radius=FILLET12_R)

    # Fillet13
    fillet13_edges = [part.edges().sort_by_distance(p)[0] for p in [
        (7.167359489, 2.5, 40.581003755),
        (5.176380106, 2.5, 41.22791215),
        (-1.046718412, 2.5, 41.881986139),
        (-3.128689936, 2.5, 41.66316212),
        (-9.079809202, 2.5, 39.729526311),
        (-10.892781095, 2.5, 38.682806536),
        (-15.542918581, 2.5, 34.49580411),
        (-16.773411552, 2.5, 32.802175926),
        (-19.318516287, 2.5, 27.085777598),
        (-19.753766933, 2.5, 25.038084689),
    ]]
    fillet(fillet13_edges, radius=FILLET13_R)


solid = part.part
